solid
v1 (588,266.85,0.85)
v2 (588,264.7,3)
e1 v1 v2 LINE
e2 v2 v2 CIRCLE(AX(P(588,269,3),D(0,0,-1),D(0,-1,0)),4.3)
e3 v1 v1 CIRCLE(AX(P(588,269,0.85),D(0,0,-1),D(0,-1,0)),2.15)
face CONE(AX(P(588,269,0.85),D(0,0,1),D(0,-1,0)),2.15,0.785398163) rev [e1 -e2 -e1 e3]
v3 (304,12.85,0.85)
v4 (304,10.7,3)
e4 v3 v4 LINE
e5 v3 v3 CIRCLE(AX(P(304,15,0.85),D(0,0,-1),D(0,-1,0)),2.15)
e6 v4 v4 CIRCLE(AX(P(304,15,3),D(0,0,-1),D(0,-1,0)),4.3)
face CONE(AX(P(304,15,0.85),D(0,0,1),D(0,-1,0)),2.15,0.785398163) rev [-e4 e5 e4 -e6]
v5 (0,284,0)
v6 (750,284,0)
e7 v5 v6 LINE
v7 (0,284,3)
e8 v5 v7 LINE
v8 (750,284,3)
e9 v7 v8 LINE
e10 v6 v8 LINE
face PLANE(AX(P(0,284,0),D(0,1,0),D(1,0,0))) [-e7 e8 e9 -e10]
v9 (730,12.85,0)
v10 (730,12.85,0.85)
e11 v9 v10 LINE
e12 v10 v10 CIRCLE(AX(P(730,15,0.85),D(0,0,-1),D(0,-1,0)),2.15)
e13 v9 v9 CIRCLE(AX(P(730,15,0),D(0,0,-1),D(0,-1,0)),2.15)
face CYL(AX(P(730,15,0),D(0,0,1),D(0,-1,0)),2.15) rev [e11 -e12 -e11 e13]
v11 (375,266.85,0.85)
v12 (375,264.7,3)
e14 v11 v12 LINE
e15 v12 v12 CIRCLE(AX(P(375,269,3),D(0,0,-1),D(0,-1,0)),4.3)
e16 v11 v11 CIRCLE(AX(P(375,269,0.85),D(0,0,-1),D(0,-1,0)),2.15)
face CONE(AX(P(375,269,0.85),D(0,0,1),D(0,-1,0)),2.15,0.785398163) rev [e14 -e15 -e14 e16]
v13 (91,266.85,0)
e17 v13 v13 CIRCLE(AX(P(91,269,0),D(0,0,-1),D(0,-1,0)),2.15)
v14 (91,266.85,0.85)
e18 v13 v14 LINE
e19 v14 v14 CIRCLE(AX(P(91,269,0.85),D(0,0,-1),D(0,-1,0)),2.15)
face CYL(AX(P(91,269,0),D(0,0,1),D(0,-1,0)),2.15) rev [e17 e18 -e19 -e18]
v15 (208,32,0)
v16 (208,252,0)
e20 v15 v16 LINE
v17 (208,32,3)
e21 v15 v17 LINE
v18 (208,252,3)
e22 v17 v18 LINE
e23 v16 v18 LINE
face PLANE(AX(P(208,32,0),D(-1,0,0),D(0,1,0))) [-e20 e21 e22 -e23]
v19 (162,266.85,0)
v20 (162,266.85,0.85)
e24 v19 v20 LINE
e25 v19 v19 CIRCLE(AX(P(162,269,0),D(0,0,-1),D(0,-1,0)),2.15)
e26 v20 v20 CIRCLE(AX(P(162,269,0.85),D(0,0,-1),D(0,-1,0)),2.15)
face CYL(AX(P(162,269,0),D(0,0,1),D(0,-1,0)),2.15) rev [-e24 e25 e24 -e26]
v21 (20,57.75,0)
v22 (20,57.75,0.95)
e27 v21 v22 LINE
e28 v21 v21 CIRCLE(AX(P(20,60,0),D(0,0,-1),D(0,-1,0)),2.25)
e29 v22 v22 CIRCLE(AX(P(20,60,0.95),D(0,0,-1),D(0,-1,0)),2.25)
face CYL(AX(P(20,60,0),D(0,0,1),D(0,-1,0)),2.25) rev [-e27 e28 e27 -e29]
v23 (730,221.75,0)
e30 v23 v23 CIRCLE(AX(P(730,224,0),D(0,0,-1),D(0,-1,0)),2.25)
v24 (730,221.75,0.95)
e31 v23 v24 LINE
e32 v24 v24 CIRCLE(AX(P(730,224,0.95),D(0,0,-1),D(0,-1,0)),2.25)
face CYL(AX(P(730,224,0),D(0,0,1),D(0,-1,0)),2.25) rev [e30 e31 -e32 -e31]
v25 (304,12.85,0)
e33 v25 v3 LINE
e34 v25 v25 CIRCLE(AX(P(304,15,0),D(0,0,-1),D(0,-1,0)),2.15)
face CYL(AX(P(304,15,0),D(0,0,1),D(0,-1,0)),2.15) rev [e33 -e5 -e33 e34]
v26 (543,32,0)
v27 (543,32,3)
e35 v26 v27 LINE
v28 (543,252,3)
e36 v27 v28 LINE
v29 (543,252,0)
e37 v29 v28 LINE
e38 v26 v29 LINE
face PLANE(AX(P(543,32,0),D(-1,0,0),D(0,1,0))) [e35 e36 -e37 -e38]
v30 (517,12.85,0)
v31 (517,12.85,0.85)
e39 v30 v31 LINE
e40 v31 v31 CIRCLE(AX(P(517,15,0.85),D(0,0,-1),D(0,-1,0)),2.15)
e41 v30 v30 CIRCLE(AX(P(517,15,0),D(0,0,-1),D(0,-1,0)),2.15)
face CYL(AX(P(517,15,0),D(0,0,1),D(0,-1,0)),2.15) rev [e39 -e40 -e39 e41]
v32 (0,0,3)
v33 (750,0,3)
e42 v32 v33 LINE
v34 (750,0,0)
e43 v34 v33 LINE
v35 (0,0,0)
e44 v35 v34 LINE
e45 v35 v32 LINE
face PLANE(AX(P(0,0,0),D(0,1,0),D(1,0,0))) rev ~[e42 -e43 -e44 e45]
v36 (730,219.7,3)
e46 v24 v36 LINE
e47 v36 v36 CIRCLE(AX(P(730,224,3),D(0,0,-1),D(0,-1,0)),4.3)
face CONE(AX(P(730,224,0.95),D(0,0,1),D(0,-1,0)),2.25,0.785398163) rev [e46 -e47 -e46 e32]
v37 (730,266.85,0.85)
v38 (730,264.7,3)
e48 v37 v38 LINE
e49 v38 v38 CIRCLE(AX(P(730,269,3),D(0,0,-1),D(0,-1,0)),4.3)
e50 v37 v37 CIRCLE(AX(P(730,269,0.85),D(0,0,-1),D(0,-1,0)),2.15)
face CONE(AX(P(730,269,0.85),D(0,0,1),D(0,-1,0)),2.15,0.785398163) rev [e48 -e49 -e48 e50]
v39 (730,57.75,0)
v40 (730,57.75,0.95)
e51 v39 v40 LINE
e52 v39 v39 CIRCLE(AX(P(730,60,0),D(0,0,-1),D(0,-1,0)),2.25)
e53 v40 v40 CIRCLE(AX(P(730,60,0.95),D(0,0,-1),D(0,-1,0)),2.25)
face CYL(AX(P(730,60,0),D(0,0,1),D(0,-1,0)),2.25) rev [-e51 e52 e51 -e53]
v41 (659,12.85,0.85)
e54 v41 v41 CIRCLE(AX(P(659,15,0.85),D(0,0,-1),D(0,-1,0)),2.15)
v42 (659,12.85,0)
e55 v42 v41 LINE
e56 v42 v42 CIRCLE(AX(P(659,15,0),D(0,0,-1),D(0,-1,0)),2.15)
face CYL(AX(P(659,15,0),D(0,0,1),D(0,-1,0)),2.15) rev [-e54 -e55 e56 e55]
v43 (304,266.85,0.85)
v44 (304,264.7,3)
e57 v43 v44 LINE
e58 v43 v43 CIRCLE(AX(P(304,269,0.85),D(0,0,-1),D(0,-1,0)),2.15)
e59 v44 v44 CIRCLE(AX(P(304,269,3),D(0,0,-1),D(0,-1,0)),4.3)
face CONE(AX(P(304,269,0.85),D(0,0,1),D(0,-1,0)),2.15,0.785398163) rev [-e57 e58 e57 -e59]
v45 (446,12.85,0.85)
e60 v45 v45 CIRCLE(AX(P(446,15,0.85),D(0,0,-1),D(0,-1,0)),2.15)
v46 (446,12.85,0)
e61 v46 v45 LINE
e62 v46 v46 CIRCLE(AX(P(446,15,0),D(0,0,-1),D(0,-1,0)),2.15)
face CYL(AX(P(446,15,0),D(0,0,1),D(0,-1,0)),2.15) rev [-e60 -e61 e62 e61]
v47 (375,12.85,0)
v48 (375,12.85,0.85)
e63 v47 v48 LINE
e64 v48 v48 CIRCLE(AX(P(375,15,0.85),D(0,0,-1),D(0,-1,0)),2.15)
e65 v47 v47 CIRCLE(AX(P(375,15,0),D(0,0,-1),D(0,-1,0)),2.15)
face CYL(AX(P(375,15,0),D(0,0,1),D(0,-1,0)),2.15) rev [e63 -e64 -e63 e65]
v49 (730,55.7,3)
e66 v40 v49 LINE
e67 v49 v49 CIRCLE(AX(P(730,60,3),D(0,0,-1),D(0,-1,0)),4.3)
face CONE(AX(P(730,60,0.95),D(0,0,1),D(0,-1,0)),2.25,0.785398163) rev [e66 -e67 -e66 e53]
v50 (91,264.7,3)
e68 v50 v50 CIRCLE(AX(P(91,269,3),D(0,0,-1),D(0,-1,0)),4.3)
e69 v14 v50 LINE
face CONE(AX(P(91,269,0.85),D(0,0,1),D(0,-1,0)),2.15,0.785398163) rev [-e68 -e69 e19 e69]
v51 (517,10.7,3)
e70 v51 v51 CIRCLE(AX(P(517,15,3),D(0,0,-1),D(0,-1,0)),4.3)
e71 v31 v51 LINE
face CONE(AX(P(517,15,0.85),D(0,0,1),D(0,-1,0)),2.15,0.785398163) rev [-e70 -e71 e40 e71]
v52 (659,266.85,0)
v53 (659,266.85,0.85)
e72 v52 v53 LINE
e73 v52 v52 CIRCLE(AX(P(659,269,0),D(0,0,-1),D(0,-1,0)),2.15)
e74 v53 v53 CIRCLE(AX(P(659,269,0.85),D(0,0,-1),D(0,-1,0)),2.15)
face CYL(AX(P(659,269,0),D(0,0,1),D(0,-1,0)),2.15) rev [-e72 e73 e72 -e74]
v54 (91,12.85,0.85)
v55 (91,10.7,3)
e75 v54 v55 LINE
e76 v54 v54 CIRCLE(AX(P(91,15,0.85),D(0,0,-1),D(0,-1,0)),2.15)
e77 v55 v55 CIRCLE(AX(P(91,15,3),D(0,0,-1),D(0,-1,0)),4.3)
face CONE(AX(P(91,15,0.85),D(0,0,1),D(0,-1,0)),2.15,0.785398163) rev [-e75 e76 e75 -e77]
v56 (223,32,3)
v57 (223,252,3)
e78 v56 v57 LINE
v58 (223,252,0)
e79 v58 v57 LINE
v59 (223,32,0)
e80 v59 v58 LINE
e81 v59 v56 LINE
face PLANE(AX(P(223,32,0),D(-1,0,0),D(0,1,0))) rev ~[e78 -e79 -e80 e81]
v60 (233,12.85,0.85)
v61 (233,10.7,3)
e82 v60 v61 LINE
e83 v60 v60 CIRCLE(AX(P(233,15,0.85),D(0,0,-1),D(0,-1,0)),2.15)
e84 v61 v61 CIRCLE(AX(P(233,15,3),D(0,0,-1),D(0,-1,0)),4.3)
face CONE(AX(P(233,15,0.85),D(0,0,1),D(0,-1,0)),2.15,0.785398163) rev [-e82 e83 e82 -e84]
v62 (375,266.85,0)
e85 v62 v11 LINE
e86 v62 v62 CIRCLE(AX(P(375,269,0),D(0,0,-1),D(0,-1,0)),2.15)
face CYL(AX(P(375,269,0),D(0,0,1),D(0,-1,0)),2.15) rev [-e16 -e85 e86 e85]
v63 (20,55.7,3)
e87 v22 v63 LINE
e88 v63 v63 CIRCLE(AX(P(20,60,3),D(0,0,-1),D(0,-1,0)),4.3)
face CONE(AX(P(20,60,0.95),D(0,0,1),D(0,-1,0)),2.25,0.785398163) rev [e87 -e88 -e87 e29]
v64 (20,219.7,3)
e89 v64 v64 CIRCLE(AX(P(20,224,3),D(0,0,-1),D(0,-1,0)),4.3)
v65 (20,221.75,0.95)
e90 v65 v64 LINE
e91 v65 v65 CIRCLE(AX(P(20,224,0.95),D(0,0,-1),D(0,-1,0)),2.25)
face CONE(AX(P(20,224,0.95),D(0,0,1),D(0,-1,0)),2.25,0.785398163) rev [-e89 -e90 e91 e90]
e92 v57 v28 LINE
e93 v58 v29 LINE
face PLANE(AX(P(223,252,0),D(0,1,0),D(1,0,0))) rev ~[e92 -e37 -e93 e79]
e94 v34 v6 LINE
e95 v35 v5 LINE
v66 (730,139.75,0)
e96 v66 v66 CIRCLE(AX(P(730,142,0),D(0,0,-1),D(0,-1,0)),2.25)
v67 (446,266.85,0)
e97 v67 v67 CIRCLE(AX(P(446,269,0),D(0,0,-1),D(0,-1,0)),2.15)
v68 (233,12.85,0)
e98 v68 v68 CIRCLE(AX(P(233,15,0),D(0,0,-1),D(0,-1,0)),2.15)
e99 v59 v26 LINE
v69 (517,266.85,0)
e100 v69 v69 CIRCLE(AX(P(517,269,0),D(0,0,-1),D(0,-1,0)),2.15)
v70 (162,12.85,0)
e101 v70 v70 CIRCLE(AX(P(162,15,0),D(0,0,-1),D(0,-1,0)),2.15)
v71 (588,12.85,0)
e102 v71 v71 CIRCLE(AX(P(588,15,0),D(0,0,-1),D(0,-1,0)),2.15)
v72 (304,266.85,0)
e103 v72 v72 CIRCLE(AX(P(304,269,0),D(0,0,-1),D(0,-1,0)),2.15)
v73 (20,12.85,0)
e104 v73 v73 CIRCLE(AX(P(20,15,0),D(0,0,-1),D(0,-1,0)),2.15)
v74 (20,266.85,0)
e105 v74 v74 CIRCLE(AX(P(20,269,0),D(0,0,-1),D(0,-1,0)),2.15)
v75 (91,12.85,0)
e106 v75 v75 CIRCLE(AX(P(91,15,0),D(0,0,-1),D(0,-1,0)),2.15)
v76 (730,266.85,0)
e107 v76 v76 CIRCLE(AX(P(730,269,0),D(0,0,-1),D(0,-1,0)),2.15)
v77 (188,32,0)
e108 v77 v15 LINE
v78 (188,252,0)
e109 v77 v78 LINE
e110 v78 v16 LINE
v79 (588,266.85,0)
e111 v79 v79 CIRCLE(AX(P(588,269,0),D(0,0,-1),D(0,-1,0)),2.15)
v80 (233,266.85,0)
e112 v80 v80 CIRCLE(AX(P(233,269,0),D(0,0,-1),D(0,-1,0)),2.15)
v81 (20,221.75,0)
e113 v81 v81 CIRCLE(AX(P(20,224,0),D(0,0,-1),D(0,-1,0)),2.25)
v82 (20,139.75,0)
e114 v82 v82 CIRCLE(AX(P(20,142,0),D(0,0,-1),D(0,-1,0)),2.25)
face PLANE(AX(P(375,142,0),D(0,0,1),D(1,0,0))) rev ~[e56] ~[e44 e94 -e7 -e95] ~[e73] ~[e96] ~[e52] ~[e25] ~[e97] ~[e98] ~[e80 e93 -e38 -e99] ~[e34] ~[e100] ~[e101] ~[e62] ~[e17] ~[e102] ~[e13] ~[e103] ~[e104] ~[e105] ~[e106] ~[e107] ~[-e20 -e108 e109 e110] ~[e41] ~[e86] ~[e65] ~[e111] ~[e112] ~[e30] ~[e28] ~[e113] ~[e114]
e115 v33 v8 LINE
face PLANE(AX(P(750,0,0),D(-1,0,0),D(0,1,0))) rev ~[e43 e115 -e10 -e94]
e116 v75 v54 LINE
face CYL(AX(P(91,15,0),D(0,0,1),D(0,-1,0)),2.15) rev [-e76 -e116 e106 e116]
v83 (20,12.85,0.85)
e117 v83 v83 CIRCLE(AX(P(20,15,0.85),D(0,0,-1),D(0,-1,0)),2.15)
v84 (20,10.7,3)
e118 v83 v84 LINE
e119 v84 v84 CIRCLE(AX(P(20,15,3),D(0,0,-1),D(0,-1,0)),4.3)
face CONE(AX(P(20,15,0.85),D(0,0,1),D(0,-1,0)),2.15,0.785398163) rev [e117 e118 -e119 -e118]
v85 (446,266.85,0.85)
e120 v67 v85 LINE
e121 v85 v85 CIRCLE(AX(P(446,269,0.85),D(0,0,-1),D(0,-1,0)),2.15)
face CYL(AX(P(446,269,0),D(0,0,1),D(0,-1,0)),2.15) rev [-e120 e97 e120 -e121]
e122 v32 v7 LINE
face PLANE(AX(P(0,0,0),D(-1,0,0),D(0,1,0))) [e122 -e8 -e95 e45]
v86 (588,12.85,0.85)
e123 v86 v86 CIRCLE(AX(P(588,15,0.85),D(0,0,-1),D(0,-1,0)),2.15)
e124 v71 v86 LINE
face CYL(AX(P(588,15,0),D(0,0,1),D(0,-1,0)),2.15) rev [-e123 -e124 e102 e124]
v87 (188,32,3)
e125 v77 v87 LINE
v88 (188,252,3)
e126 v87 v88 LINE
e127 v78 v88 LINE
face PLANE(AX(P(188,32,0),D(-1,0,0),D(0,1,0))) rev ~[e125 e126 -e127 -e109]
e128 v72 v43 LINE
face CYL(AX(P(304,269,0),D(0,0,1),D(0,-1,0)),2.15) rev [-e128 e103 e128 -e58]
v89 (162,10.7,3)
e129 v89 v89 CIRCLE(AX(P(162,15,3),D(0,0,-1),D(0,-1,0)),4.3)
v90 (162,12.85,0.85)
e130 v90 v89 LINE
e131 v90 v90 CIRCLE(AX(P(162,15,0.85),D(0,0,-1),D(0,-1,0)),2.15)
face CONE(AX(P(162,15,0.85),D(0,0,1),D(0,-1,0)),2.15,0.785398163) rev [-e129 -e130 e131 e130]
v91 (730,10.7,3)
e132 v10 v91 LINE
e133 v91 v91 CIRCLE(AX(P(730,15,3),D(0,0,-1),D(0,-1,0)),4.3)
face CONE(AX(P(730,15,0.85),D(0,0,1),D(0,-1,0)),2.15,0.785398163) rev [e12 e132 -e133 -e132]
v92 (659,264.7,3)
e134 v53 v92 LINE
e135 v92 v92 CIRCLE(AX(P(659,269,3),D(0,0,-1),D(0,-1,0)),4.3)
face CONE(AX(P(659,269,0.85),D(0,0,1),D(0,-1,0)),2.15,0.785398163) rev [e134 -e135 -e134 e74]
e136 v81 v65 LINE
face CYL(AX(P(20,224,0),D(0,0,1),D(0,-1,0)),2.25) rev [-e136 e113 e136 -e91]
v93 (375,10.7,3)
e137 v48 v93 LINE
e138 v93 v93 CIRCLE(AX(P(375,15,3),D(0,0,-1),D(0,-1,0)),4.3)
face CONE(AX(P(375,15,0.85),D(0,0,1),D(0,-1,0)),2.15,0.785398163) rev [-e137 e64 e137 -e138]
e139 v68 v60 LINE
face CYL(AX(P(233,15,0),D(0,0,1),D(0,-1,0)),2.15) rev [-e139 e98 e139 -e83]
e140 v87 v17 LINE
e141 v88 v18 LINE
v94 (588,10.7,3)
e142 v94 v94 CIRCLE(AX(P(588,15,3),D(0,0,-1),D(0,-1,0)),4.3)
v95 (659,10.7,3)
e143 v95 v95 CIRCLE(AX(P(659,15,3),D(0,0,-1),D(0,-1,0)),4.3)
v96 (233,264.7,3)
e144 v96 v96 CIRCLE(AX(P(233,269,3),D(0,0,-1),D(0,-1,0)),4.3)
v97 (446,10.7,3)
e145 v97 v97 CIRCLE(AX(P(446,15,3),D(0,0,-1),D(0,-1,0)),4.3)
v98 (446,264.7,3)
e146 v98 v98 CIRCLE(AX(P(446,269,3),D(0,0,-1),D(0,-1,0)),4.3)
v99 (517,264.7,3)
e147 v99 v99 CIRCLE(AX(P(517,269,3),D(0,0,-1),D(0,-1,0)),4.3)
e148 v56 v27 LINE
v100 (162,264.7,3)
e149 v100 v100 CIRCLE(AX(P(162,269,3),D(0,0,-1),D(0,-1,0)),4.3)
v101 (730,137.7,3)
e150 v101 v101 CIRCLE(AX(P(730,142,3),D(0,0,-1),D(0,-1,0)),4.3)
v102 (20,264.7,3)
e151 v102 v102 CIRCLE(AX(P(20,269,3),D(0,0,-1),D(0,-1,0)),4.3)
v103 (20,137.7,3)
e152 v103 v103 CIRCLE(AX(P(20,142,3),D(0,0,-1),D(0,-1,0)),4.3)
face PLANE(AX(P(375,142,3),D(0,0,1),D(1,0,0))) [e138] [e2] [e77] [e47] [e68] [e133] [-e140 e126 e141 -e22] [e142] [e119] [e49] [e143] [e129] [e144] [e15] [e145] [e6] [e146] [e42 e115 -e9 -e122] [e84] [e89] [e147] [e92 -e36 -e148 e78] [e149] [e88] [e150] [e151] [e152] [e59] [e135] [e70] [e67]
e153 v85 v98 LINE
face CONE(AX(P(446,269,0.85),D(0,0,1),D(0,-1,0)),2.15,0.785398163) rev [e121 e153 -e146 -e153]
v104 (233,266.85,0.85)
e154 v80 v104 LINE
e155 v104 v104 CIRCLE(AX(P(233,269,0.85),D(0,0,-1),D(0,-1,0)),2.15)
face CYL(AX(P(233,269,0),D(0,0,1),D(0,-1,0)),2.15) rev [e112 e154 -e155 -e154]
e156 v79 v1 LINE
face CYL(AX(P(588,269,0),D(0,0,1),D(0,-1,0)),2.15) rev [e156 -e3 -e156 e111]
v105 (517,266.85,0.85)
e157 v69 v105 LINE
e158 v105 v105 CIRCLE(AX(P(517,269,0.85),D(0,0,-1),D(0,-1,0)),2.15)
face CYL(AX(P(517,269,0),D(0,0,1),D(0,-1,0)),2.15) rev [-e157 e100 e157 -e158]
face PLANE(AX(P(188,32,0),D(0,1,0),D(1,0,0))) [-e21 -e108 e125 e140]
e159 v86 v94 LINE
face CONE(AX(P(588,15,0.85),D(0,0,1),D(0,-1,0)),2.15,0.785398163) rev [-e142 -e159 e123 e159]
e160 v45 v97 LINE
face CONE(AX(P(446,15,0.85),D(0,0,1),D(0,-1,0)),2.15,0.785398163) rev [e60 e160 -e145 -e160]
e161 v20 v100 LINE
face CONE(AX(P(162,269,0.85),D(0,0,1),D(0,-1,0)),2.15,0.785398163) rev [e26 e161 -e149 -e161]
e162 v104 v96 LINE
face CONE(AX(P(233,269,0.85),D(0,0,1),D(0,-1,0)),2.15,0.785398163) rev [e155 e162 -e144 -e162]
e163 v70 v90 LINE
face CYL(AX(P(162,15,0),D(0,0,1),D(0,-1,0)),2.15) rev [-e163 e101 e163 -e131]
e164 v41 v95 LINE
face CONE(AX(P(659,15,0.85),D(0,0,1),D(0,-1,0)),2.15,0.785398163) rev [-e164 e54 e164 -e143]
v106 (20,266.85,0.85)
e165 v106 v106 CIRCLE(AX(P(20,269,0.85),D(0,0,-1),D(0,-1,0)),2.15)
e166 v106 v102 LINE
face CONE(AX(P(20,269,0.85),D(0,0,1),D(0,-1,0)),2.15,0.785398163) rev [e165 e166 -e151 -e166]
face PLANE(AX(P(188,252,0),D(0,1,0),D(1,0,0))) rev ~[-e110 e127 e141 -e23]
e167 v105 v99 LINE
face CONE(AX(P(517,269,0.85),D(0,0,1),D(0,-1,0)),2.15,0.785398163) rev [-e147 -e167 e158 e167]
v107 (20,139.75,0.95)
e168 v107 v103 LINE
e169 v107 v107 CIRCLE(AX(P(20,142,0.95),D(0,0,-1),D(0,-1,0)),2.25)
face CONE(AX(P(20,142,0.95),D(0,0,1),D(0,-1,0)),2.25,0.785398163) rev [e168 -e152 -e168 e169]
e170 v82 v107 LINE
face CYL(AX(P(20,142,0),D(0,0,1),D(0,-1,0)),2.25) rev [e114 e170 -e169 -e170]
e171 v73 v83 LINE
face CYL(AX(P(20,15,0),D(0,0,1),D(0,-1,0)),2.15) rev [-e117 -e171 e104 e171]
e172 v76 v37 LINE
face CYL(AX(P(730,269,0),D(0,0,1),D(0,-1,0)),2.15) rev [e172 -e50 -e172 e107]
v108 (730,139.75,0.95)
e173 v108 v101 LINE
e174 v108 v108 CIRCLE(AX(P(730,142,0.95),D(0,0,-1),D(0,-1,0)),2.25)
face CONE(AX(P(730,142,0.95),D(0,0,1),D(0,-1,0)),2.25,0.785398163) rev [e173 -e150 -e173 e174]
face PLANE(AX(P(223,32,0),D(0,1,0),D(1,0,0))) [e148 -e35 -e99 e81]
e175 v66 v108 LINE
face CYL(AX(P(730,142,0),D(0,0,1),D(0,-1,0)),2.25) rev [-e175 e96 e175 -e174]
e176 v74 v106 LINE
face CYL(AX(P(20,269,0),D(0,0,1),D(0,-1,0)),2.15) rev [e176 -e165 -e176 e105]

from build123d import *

# Parameters (mm, degrees)
SKETCH_1_W                  = 750
SKETCH_1_H                  = 284
SKETCH_1_W_2                = 320
SKETCH_1_H_2                = 220
SKETCH_1_W_3                = 20
EXTRUDE_1_DEPTH             = 3
HOLE_WIZARD_M41_AT_2_COUNT  = 2
HOLE_WIZARD_M41_AT_2_PITCH  = 254
HOLE_WIZARD_M41_AT_3_COUNT  = 2
HOLE_WIZARD_M41_AT_3_PITCH  = 71
HOLE_WIZARD_M41_AT_4_COUNT  = 2
HOLE_WIZARD_M41_AT_4_PITCH  = 263.736611035
HOLE_WIZARD_M41_AT_5_COUNT  = 2
HOLE_WIZARD_M41_AT_5_PITCH  = 142
HOLE_WIZARD_M41_AT_6_COUNT  = 2
HOLE_WIZARD_M41_AT_6_PITCH  = 290.998281782
HOLE_WIZARD_M41_AT_7_COUNT  = 2
HOLE_WIZARD_M41_AT_7_PITCH  = 213
HOLE_WIZARD_M41_AT_8_COUNT  = 2
HOLE_WIZARD_M41_AT_8_PITCH  = 331.489064676
HOLE_WIZARD_M41_AT_9_COUNT  = 2
HOLE_WIZARD_M41_AT_9_PITCH  = 284
HOLE_WIZARD_M41_AT_10_COUNT = 2
HOLE_WIZARD_M41_AT_10_PITCH = 381.014435422
HOLE_WIZARD_M41_AT_11_COUNT = 2
HOLE_WIZARD_M41_AT_11_PITCH = 355
HOLE_WIZARD_M41_AT_12_COUNT = 2
HOLE_WIZARD_M41_AT_12_PITCH = 436.510022794
HOLE_WIZARD_M41_AT_13_COUNT = 2
HOLE_WIZARD_M41_AT_13_PITCH = 426
HOLE_WIZARD_M41_AT_14_COUNT = 2
HOLE_WIZARD_M41_AT_14_PITCH = 495.975805862
HOLE_WIZARD_M41_AT_15_COUNT = 2
HOLE_WIZARD_M41_AT_15_PITCH = 497
HOLE_WIZARD_M41_AT_16_COUNT = 2
HOLE_WIZARD_M41_AT_16_PITCH = 558.144246589
HOLE_WIZARD_M41_AT_17_COUNT = 2
HOLE_WIZARD_M41_AT_17_PITCH = 568
HOLE_WIZARD_M41_AT_18_COUNT = 2
HOLE_WIZARD_M41_AT_18_PITCH = 622.20575375
HOLE_WIZARD_M41_AT_19_COUNT = 2
HOLE_WIZARD_M41_AT_19_PITCH = 639
HOLE_WIZARD_M41_AT_20_COUNT = 2
HOLE_WIZARD_M41_AT_20_PITCH = 687.63144198
HOLE_WIZARD_M41_AT_21_COUNT = 2
HOLE_WIZARD_M41_AT_21_PITCH = 710
HOLE_WIZARD_M41_AT_22_COUNT = 2
HOLE_WIZARD_M41_AT_22_PITCH = 754.066310082
HOLE_WIZARD_M42_AT_2_COUNT  = 2
HOLE_WIZARD_M42_AT_2_PITCH  = 710
HOLE_WIZARD_M42_AT_3_COUNT  = 2
HOLE_WIZARD_M42_AT_3_PITCH  = 82
HOLE_WIZARD_M42_AT_4_COUNT  = 2
HOLE_WIZARD_M42_AT_4_PITCH  = 714.719525408
HOLE_WIZARD_M42_AT_5_COUNT  = 2
HOLE_WIZARD_M42_AT_5_PITCH  = 164
HOLE_WIZARD_M42_AT_6_COUNT  = 2
HOLE_WIZARD_M42_AT_6_PITCH  = 728.694723461


with BuildPart() as part:
    # Эскиз1 → Бобышка-Вытянуть1 (new body)
    with BuildSketch(Plane.XY):
        with Locations((375, 142)):
            Rectangle(SKETCH_1_W, SKETCH_1_H)
        with Locations((383, 142)):
            Rectangle(SKETCH_1_W_2, SKETCH_1_H_2, mode=Mode.SUBTRACT)
        with Locations((198, 142)):
            Rectangle(SKETCH_1_W_3, SKETCH_1_H_2, mode=Mode.SUBTRACT)
    extrude(amount=EXTRUDE_1_DEPTH)

    # Эскиз2 → Зенковка для винта с полупотайной головкой M41 (revolve, cut)
    with BuildSketch(Plane(origin=(20, 15, 3), x_dir=(0, -1, 0), z_dir=(1, 0, 0))):
        Polygon((0, 0), (0, 3), (2.15, 3), (2.15, 2.15), (4.3, 0), align=None)
    hole_wizard_m41 = revolve(axis=Axis((20, 15, 9.35), (0, 0, -1)), mode=Mode.SUBTRACT)

    # Зенковка для винта с полупотайной головкой M41 at 2: Зенковка для винта с полупотайной головкой M41 ×2
    with Locations(*[(0, i * HOLE_WIZARD_M41_AT_2_PITCH, 0) for i in range(1, HOLE_WIZARD_M41_AT_2_COUNT)]):
        add(hole_wizard_m41, mode=Mode.SUBTRACT)

    # Зенковка для винта с полупотайной головкой M41 at 3: Зенковка для винта с полупотайной головкой M41 ×2
    with Locations(*[(i * HOLE_WIZARD_M41_AT_3_PITCH, 0, 0) for i in range(1, HOLE_WIZARD_M41_AT_3_COUNT)]):
        add(hole_wizard_m41, mode=Mode.SUBTRACT)

    # Зенковка для винта с полупотайной головкой M41 at 4: Зенковка для винта с полупотайной головкой M41 ×2
    with Locations(*[Vector(0.2692079788296573, 0.9630820651089143, 0) * (i * HOLE_WIZARD_M41_AT_4_PITCH) for i in range(1, HOLE_WIZARD_M41_AT_4_COUNT)]):
        add(hole_wizard_m41, mode=Mode.SUBTRACT)

    # Зенковка для винта с полупотайной головкой M41 at 5: Зенковка для винта с полупотайной головкой M41 ×2
    with Locations(*[(i * HOLE_WIZARD_M41_AT_5_PITCH, 0, 0) for i in range(1, HOLE_WIZARD_M41_AT_5_COUNT)]):
        add(hole_wizard_m41, mode=Mode.SUBTRACT)

    # Зенковка для винта с полупотайной головкой M41 at 6: Зенковка для винта с полупотайной головкой M41 ×2
    with Locations(*[Vector(0.4879753898562281, 0.8728573874893093, 0) * (i * HOLE_WIZARD_M41_AT_6_PITCH) for i in range(1, HOLE_WIZARD_M41_AT_6_COUNT)]):
        add(hole_wizard_m41, mode=Mode.SUBTRACT)

    # Зенковка для винта с полупотайной головкой M41 at 7: Зенковка для винта с полупотайной головкой M41 ×2
    with Locations(*[(i * HOLE_WIZARD_M41_AT_7_PITCH, 0, 0) for i in range(1, HOLE_WIZARD_M41_AT_7_COUNT)]):
        add(hole_wizard_m41, mode=Mode.SUBTRACT)

    # Зенковка для винта с полупотайной головкой M41 at 8: Зенковка для винта с полупотайной головкой M41 ×2
    with Locations(*[Vector(0.6425551328758441, 0.7662394542275323, 0) * (i * HOLE_WIZARD_M41_AT_8_PITCH) for i in range(1, HOLE_WIZARD_M41_AT_8_COUNT)]):
        add(hole_wizard_m41, mode=Mode.SUBTRACT)

    # Зенковка для винта с полупотайной головкой M41 at 9: Зенковка для винта с полупотайной головкой M41 ×2
    with Locations(*[(i * HOLE_WIZARD_M41_AT_9_PITCH, 0, 0) for i in range(1, HOLE_WIZARD_M41_AT_9_COUNT)]):
        add(hole_wizard_m41, mode=Mode.SUBTRACT)

    # Зенковка для винта с полупотайной головкой M41 at 10: Зенковка для винта с полупотайной головкой M41 ×2
    with Locations(*[Vector(0.7453785830591875, 0.6666414087923718, 0) * (i * HOLE_WIZARD_M41_AT_10_PITCH) for i in range(1, HOLE_WIZARD_M41_AT_10_COUNT)]):
        add(hole_wizard_m41, mode=Mode.SUBTRACT)

    # Зенковка для винта с полупотайной головкой M41 at 11: Зенковка для винта с полупотайной головкой M41 ×2
    with Locations(*[(i * HOLE_WIZARD_M41_AT_11_PITCH, 0, 0) for i in range(1, HOLE_WIZARD_M41_AT_11_COUNT)]):
        add(hole_wizard_m41, mode=Mode.SUBTRACT)

    # Зенковка для винта с полупотайной головкой M41 at 12: Зенковка для винта с полупотайной головкой M41 ×2
    with Locations(*[Vector(0.8132688402602337, 0.5818881279608432, 0) * (i * HOLE_WIZARD_M41_AT_12_PITCH) for i in range(1, HOLE_WIZARD_M41_AT_12_COUNT)]):
        add(hole_wizard_m41, mode=Mode.SUBTRACT)

    # Зенковка для винта с полупотайной головкой M41 at 13: Зенковка для винта с полупотайной головкой M41 ×2
    with Locations(*[(i * HOLE_WIZARD_M41_AT_13_PITCH, 0, 0) for i in range(1, HOLE_WIZARD_M41_AT_13_COUNT)]):
        add(hole_wizard_m41, mode=Mode.SUBTRACT)

    # Зенковка для винта с полупотайной головкой M41 at 14: Зенковка для винта с полупотайной головкой M41 ×2
    with Locations(*[Vector(0.8589128642273502, 0.5121217547271055, 0) * (i * HOLE_WIZARD_M41_AT_14_PITCH) for i in range(1, HOLE_WIZARD_M41_AT_14_COUNT)]):
        add(hole_wizard_m41, mode=Mode.SUBTRACT)

    # Зенковка для винта с полупотайной головкой M41 at 15: Зенковка для винта с полупотайной головкой M41 ×2
    with Locations(*[(i * HOLE_WIZARD_M41_AT_15_PITCH, 0, 0) for i in range(1, HOLE_WIZARD_M41_AT_15_COUNT)]):
        add(hole_wizard_m41, mode=Mode.SUBTRACT)

    # Зенковка для винта с полупотайной головкой M41 at 16: Зенковка для винта с полупотайной головкой M41 ×2
    with Locations(*[Vector(0.8904508163214954, 0.4550794916411667, 0) * (i * HOLE_WIZARD_M41_AT_16_PITCH) for i in range(1, HOLE_WIZARD_M41_AT_16_COUNT)]):
        add(hole_wizard_m41, mode=Mode.SUBTRACT)

    # Зенковка для винта с полупотайной головкой M41 at 17: Зенковка для винта с полупотайной головкой M41 ×2
    with Locations(*[(i * HOLE_WIZARD_M41_AT_17_PITCH, 0, 0) for i in range(1, HOLE_WIZARD_M41_AT_17_COUNT)]):
        add(hole_wizard_m41, mode=Mode.SUBTRACT)

    # Зенковка для винта с полупотайной головкой M41 at 18: Зенковка для винта с полупотайной головкой M41 ×2
    with Locations(*[Vector(0.912881304257323, 0.4082250902840845, 0) * (i * HOLE_WIZARD_M41_AT_18_PITCH) for i in range(1, HOLE_WIZARD_M41_AT_18_COUNT)]):
        add(hole_wizard_m41, mode=Mode.SUBTRACT)

    # Зенковка для винта с полупотайной головкой M41 at 19: Зенковка для винта с полупотайной головкой M41 ×2
    with Locations(*[(i * HOLE_WIZARD_M41_AT_19_PITCH, 0, 0) for i in range(1, HOLE_WIZARD_M41_AT_19_COUNT)]):
        add(hole_wizard_m41, mode=Mode.SUBTRACT)

    # Зенковка для винта с полупотайной головкой M41 at 20: Зенковка для винта с полупотайной головкой M41 ×2
    with Locations(*[Vector(0.9292768785553057, 0.36938392355719507, 0) * (i * HOLE_WIZARD_M41_AT_20_PITCH) for i in range(1, HOLE_WIZARD_M41_AT_20_COUNT)]):
        add(hole_wizard_m41, mode=Mode.SUBTRACT)

    # Зенковка для винта с полупотайной головкой M41 at 21: Зенковка для винта с полупотайной головкой M41 ×2
    with Locations(*[(i * HOLE_WIZARD_M41_AT_21_PITCH, 0, 0) for i in range(1, HOLE_WIZARD_M41_AT_21_COUNT)]):
        add(hole_wizard_m41, mode=Mode.SUBTRACT)

    # Зенковка для винта с полупотайной головкой M41 at 22: Зенковка для винта с полупотайной головкой M41 ×2
    with Locations(*[Vector(0.9415617572454846, 0.3368404032962719, 0) * (i * HOLE_WIZARD_M41_AT_22_PITCH) for i in range(1, HOLE_WIZARD_M41_AT_22_COUNT)]):
        add(hole_wizard_m41, mode=Mode.SUBTRACT)

    # Эскиз4 → Зенковка для винта с полупотайной головкой M42 (revolve, cut)
    with BuildSketch(Plane(origin=(20, 224, 3), x_dir=(0, -1, 0), z_dir=(1, 0, 0))):
        Polygon((0, 0), (0, 3), (2.25, 3), (2.25, 2.05), (4.3, 0), align=None)
    hole_wizard_m42 = revolve(axis=Axis((20, 224, 9.35), (0, 0, -1)), mode=Mode.SUBTRACT)

    # Зенковка для винта с полупотайной головкой M42 at 2: Зенковка для винта с полупотайной головкой M42 ×2
    with Locations(*[(i * HOLE_WIZARD_M42_AT_2_PITCH, 0, 0) for i in range(1, HOLE_WIZARD_M42_AT_2_COUNT)]):
        add(hole_wizard_m42, mode=Mode.SUBTRACT)

    # Зенковка для винта с полупотайной головкой M42 at 3: Зенковка для винта с полупотайной головкой M42 ×2
    with Locations(*[(0, -i * HOLE_WIZARD_M42_AT_3_PITCH, 0) for i in range(1, HOLE_WIZARD_M42_AT_3_COUNT)]):
        add(hole_wizard_m42, mode=Mode.SUBTRACT)

    # Зенковка для винта с полупотайной головкой M42 at 4: Зенковка для винта с полупотайной головкой M42 ×2
    with Locations(*[Vector(0.9933966748624963, -0.11473032019538675, 0) * (i * HOLE_WIZARD_M42_AT_4_PITCH) for i in range(1, HOLE_WIZARD_M42_AT_4_COUNT)]):
        add(hole_wizard_m42, mode=Mode.SUBTRACT)

    # Зенковка для винта с полупотайной головкой M42 at 5: Зенковка для винта с полупотайной головкой M42 ×2
    with Locations(*[(0, -i * HOLE_WIZARD_M42_AT_5_PITCH, 0) for i in range(1, HOLE_WIZARD_M42_AT_5_COUNT)]):
        add(hole_wizard_m42, mode=Mode.SUBTRACT)

    # Зенковка для винта с полупотайной головкой M42 at 6: Зенковка для винта с полупотайной головкой M42 ×2
    with Locations(*[Vector(0.9743449172072053, -0.22505995270701593, 0) * (i * HOLE_WIZARD_M42_AT_6_PITCH) for i in range(1, HOLE_WIZARD_M42_AT_6_COUNT)]):
        add(hole_wizard_m42, mode=Mode.SUBTRACT)


solid = part.part
